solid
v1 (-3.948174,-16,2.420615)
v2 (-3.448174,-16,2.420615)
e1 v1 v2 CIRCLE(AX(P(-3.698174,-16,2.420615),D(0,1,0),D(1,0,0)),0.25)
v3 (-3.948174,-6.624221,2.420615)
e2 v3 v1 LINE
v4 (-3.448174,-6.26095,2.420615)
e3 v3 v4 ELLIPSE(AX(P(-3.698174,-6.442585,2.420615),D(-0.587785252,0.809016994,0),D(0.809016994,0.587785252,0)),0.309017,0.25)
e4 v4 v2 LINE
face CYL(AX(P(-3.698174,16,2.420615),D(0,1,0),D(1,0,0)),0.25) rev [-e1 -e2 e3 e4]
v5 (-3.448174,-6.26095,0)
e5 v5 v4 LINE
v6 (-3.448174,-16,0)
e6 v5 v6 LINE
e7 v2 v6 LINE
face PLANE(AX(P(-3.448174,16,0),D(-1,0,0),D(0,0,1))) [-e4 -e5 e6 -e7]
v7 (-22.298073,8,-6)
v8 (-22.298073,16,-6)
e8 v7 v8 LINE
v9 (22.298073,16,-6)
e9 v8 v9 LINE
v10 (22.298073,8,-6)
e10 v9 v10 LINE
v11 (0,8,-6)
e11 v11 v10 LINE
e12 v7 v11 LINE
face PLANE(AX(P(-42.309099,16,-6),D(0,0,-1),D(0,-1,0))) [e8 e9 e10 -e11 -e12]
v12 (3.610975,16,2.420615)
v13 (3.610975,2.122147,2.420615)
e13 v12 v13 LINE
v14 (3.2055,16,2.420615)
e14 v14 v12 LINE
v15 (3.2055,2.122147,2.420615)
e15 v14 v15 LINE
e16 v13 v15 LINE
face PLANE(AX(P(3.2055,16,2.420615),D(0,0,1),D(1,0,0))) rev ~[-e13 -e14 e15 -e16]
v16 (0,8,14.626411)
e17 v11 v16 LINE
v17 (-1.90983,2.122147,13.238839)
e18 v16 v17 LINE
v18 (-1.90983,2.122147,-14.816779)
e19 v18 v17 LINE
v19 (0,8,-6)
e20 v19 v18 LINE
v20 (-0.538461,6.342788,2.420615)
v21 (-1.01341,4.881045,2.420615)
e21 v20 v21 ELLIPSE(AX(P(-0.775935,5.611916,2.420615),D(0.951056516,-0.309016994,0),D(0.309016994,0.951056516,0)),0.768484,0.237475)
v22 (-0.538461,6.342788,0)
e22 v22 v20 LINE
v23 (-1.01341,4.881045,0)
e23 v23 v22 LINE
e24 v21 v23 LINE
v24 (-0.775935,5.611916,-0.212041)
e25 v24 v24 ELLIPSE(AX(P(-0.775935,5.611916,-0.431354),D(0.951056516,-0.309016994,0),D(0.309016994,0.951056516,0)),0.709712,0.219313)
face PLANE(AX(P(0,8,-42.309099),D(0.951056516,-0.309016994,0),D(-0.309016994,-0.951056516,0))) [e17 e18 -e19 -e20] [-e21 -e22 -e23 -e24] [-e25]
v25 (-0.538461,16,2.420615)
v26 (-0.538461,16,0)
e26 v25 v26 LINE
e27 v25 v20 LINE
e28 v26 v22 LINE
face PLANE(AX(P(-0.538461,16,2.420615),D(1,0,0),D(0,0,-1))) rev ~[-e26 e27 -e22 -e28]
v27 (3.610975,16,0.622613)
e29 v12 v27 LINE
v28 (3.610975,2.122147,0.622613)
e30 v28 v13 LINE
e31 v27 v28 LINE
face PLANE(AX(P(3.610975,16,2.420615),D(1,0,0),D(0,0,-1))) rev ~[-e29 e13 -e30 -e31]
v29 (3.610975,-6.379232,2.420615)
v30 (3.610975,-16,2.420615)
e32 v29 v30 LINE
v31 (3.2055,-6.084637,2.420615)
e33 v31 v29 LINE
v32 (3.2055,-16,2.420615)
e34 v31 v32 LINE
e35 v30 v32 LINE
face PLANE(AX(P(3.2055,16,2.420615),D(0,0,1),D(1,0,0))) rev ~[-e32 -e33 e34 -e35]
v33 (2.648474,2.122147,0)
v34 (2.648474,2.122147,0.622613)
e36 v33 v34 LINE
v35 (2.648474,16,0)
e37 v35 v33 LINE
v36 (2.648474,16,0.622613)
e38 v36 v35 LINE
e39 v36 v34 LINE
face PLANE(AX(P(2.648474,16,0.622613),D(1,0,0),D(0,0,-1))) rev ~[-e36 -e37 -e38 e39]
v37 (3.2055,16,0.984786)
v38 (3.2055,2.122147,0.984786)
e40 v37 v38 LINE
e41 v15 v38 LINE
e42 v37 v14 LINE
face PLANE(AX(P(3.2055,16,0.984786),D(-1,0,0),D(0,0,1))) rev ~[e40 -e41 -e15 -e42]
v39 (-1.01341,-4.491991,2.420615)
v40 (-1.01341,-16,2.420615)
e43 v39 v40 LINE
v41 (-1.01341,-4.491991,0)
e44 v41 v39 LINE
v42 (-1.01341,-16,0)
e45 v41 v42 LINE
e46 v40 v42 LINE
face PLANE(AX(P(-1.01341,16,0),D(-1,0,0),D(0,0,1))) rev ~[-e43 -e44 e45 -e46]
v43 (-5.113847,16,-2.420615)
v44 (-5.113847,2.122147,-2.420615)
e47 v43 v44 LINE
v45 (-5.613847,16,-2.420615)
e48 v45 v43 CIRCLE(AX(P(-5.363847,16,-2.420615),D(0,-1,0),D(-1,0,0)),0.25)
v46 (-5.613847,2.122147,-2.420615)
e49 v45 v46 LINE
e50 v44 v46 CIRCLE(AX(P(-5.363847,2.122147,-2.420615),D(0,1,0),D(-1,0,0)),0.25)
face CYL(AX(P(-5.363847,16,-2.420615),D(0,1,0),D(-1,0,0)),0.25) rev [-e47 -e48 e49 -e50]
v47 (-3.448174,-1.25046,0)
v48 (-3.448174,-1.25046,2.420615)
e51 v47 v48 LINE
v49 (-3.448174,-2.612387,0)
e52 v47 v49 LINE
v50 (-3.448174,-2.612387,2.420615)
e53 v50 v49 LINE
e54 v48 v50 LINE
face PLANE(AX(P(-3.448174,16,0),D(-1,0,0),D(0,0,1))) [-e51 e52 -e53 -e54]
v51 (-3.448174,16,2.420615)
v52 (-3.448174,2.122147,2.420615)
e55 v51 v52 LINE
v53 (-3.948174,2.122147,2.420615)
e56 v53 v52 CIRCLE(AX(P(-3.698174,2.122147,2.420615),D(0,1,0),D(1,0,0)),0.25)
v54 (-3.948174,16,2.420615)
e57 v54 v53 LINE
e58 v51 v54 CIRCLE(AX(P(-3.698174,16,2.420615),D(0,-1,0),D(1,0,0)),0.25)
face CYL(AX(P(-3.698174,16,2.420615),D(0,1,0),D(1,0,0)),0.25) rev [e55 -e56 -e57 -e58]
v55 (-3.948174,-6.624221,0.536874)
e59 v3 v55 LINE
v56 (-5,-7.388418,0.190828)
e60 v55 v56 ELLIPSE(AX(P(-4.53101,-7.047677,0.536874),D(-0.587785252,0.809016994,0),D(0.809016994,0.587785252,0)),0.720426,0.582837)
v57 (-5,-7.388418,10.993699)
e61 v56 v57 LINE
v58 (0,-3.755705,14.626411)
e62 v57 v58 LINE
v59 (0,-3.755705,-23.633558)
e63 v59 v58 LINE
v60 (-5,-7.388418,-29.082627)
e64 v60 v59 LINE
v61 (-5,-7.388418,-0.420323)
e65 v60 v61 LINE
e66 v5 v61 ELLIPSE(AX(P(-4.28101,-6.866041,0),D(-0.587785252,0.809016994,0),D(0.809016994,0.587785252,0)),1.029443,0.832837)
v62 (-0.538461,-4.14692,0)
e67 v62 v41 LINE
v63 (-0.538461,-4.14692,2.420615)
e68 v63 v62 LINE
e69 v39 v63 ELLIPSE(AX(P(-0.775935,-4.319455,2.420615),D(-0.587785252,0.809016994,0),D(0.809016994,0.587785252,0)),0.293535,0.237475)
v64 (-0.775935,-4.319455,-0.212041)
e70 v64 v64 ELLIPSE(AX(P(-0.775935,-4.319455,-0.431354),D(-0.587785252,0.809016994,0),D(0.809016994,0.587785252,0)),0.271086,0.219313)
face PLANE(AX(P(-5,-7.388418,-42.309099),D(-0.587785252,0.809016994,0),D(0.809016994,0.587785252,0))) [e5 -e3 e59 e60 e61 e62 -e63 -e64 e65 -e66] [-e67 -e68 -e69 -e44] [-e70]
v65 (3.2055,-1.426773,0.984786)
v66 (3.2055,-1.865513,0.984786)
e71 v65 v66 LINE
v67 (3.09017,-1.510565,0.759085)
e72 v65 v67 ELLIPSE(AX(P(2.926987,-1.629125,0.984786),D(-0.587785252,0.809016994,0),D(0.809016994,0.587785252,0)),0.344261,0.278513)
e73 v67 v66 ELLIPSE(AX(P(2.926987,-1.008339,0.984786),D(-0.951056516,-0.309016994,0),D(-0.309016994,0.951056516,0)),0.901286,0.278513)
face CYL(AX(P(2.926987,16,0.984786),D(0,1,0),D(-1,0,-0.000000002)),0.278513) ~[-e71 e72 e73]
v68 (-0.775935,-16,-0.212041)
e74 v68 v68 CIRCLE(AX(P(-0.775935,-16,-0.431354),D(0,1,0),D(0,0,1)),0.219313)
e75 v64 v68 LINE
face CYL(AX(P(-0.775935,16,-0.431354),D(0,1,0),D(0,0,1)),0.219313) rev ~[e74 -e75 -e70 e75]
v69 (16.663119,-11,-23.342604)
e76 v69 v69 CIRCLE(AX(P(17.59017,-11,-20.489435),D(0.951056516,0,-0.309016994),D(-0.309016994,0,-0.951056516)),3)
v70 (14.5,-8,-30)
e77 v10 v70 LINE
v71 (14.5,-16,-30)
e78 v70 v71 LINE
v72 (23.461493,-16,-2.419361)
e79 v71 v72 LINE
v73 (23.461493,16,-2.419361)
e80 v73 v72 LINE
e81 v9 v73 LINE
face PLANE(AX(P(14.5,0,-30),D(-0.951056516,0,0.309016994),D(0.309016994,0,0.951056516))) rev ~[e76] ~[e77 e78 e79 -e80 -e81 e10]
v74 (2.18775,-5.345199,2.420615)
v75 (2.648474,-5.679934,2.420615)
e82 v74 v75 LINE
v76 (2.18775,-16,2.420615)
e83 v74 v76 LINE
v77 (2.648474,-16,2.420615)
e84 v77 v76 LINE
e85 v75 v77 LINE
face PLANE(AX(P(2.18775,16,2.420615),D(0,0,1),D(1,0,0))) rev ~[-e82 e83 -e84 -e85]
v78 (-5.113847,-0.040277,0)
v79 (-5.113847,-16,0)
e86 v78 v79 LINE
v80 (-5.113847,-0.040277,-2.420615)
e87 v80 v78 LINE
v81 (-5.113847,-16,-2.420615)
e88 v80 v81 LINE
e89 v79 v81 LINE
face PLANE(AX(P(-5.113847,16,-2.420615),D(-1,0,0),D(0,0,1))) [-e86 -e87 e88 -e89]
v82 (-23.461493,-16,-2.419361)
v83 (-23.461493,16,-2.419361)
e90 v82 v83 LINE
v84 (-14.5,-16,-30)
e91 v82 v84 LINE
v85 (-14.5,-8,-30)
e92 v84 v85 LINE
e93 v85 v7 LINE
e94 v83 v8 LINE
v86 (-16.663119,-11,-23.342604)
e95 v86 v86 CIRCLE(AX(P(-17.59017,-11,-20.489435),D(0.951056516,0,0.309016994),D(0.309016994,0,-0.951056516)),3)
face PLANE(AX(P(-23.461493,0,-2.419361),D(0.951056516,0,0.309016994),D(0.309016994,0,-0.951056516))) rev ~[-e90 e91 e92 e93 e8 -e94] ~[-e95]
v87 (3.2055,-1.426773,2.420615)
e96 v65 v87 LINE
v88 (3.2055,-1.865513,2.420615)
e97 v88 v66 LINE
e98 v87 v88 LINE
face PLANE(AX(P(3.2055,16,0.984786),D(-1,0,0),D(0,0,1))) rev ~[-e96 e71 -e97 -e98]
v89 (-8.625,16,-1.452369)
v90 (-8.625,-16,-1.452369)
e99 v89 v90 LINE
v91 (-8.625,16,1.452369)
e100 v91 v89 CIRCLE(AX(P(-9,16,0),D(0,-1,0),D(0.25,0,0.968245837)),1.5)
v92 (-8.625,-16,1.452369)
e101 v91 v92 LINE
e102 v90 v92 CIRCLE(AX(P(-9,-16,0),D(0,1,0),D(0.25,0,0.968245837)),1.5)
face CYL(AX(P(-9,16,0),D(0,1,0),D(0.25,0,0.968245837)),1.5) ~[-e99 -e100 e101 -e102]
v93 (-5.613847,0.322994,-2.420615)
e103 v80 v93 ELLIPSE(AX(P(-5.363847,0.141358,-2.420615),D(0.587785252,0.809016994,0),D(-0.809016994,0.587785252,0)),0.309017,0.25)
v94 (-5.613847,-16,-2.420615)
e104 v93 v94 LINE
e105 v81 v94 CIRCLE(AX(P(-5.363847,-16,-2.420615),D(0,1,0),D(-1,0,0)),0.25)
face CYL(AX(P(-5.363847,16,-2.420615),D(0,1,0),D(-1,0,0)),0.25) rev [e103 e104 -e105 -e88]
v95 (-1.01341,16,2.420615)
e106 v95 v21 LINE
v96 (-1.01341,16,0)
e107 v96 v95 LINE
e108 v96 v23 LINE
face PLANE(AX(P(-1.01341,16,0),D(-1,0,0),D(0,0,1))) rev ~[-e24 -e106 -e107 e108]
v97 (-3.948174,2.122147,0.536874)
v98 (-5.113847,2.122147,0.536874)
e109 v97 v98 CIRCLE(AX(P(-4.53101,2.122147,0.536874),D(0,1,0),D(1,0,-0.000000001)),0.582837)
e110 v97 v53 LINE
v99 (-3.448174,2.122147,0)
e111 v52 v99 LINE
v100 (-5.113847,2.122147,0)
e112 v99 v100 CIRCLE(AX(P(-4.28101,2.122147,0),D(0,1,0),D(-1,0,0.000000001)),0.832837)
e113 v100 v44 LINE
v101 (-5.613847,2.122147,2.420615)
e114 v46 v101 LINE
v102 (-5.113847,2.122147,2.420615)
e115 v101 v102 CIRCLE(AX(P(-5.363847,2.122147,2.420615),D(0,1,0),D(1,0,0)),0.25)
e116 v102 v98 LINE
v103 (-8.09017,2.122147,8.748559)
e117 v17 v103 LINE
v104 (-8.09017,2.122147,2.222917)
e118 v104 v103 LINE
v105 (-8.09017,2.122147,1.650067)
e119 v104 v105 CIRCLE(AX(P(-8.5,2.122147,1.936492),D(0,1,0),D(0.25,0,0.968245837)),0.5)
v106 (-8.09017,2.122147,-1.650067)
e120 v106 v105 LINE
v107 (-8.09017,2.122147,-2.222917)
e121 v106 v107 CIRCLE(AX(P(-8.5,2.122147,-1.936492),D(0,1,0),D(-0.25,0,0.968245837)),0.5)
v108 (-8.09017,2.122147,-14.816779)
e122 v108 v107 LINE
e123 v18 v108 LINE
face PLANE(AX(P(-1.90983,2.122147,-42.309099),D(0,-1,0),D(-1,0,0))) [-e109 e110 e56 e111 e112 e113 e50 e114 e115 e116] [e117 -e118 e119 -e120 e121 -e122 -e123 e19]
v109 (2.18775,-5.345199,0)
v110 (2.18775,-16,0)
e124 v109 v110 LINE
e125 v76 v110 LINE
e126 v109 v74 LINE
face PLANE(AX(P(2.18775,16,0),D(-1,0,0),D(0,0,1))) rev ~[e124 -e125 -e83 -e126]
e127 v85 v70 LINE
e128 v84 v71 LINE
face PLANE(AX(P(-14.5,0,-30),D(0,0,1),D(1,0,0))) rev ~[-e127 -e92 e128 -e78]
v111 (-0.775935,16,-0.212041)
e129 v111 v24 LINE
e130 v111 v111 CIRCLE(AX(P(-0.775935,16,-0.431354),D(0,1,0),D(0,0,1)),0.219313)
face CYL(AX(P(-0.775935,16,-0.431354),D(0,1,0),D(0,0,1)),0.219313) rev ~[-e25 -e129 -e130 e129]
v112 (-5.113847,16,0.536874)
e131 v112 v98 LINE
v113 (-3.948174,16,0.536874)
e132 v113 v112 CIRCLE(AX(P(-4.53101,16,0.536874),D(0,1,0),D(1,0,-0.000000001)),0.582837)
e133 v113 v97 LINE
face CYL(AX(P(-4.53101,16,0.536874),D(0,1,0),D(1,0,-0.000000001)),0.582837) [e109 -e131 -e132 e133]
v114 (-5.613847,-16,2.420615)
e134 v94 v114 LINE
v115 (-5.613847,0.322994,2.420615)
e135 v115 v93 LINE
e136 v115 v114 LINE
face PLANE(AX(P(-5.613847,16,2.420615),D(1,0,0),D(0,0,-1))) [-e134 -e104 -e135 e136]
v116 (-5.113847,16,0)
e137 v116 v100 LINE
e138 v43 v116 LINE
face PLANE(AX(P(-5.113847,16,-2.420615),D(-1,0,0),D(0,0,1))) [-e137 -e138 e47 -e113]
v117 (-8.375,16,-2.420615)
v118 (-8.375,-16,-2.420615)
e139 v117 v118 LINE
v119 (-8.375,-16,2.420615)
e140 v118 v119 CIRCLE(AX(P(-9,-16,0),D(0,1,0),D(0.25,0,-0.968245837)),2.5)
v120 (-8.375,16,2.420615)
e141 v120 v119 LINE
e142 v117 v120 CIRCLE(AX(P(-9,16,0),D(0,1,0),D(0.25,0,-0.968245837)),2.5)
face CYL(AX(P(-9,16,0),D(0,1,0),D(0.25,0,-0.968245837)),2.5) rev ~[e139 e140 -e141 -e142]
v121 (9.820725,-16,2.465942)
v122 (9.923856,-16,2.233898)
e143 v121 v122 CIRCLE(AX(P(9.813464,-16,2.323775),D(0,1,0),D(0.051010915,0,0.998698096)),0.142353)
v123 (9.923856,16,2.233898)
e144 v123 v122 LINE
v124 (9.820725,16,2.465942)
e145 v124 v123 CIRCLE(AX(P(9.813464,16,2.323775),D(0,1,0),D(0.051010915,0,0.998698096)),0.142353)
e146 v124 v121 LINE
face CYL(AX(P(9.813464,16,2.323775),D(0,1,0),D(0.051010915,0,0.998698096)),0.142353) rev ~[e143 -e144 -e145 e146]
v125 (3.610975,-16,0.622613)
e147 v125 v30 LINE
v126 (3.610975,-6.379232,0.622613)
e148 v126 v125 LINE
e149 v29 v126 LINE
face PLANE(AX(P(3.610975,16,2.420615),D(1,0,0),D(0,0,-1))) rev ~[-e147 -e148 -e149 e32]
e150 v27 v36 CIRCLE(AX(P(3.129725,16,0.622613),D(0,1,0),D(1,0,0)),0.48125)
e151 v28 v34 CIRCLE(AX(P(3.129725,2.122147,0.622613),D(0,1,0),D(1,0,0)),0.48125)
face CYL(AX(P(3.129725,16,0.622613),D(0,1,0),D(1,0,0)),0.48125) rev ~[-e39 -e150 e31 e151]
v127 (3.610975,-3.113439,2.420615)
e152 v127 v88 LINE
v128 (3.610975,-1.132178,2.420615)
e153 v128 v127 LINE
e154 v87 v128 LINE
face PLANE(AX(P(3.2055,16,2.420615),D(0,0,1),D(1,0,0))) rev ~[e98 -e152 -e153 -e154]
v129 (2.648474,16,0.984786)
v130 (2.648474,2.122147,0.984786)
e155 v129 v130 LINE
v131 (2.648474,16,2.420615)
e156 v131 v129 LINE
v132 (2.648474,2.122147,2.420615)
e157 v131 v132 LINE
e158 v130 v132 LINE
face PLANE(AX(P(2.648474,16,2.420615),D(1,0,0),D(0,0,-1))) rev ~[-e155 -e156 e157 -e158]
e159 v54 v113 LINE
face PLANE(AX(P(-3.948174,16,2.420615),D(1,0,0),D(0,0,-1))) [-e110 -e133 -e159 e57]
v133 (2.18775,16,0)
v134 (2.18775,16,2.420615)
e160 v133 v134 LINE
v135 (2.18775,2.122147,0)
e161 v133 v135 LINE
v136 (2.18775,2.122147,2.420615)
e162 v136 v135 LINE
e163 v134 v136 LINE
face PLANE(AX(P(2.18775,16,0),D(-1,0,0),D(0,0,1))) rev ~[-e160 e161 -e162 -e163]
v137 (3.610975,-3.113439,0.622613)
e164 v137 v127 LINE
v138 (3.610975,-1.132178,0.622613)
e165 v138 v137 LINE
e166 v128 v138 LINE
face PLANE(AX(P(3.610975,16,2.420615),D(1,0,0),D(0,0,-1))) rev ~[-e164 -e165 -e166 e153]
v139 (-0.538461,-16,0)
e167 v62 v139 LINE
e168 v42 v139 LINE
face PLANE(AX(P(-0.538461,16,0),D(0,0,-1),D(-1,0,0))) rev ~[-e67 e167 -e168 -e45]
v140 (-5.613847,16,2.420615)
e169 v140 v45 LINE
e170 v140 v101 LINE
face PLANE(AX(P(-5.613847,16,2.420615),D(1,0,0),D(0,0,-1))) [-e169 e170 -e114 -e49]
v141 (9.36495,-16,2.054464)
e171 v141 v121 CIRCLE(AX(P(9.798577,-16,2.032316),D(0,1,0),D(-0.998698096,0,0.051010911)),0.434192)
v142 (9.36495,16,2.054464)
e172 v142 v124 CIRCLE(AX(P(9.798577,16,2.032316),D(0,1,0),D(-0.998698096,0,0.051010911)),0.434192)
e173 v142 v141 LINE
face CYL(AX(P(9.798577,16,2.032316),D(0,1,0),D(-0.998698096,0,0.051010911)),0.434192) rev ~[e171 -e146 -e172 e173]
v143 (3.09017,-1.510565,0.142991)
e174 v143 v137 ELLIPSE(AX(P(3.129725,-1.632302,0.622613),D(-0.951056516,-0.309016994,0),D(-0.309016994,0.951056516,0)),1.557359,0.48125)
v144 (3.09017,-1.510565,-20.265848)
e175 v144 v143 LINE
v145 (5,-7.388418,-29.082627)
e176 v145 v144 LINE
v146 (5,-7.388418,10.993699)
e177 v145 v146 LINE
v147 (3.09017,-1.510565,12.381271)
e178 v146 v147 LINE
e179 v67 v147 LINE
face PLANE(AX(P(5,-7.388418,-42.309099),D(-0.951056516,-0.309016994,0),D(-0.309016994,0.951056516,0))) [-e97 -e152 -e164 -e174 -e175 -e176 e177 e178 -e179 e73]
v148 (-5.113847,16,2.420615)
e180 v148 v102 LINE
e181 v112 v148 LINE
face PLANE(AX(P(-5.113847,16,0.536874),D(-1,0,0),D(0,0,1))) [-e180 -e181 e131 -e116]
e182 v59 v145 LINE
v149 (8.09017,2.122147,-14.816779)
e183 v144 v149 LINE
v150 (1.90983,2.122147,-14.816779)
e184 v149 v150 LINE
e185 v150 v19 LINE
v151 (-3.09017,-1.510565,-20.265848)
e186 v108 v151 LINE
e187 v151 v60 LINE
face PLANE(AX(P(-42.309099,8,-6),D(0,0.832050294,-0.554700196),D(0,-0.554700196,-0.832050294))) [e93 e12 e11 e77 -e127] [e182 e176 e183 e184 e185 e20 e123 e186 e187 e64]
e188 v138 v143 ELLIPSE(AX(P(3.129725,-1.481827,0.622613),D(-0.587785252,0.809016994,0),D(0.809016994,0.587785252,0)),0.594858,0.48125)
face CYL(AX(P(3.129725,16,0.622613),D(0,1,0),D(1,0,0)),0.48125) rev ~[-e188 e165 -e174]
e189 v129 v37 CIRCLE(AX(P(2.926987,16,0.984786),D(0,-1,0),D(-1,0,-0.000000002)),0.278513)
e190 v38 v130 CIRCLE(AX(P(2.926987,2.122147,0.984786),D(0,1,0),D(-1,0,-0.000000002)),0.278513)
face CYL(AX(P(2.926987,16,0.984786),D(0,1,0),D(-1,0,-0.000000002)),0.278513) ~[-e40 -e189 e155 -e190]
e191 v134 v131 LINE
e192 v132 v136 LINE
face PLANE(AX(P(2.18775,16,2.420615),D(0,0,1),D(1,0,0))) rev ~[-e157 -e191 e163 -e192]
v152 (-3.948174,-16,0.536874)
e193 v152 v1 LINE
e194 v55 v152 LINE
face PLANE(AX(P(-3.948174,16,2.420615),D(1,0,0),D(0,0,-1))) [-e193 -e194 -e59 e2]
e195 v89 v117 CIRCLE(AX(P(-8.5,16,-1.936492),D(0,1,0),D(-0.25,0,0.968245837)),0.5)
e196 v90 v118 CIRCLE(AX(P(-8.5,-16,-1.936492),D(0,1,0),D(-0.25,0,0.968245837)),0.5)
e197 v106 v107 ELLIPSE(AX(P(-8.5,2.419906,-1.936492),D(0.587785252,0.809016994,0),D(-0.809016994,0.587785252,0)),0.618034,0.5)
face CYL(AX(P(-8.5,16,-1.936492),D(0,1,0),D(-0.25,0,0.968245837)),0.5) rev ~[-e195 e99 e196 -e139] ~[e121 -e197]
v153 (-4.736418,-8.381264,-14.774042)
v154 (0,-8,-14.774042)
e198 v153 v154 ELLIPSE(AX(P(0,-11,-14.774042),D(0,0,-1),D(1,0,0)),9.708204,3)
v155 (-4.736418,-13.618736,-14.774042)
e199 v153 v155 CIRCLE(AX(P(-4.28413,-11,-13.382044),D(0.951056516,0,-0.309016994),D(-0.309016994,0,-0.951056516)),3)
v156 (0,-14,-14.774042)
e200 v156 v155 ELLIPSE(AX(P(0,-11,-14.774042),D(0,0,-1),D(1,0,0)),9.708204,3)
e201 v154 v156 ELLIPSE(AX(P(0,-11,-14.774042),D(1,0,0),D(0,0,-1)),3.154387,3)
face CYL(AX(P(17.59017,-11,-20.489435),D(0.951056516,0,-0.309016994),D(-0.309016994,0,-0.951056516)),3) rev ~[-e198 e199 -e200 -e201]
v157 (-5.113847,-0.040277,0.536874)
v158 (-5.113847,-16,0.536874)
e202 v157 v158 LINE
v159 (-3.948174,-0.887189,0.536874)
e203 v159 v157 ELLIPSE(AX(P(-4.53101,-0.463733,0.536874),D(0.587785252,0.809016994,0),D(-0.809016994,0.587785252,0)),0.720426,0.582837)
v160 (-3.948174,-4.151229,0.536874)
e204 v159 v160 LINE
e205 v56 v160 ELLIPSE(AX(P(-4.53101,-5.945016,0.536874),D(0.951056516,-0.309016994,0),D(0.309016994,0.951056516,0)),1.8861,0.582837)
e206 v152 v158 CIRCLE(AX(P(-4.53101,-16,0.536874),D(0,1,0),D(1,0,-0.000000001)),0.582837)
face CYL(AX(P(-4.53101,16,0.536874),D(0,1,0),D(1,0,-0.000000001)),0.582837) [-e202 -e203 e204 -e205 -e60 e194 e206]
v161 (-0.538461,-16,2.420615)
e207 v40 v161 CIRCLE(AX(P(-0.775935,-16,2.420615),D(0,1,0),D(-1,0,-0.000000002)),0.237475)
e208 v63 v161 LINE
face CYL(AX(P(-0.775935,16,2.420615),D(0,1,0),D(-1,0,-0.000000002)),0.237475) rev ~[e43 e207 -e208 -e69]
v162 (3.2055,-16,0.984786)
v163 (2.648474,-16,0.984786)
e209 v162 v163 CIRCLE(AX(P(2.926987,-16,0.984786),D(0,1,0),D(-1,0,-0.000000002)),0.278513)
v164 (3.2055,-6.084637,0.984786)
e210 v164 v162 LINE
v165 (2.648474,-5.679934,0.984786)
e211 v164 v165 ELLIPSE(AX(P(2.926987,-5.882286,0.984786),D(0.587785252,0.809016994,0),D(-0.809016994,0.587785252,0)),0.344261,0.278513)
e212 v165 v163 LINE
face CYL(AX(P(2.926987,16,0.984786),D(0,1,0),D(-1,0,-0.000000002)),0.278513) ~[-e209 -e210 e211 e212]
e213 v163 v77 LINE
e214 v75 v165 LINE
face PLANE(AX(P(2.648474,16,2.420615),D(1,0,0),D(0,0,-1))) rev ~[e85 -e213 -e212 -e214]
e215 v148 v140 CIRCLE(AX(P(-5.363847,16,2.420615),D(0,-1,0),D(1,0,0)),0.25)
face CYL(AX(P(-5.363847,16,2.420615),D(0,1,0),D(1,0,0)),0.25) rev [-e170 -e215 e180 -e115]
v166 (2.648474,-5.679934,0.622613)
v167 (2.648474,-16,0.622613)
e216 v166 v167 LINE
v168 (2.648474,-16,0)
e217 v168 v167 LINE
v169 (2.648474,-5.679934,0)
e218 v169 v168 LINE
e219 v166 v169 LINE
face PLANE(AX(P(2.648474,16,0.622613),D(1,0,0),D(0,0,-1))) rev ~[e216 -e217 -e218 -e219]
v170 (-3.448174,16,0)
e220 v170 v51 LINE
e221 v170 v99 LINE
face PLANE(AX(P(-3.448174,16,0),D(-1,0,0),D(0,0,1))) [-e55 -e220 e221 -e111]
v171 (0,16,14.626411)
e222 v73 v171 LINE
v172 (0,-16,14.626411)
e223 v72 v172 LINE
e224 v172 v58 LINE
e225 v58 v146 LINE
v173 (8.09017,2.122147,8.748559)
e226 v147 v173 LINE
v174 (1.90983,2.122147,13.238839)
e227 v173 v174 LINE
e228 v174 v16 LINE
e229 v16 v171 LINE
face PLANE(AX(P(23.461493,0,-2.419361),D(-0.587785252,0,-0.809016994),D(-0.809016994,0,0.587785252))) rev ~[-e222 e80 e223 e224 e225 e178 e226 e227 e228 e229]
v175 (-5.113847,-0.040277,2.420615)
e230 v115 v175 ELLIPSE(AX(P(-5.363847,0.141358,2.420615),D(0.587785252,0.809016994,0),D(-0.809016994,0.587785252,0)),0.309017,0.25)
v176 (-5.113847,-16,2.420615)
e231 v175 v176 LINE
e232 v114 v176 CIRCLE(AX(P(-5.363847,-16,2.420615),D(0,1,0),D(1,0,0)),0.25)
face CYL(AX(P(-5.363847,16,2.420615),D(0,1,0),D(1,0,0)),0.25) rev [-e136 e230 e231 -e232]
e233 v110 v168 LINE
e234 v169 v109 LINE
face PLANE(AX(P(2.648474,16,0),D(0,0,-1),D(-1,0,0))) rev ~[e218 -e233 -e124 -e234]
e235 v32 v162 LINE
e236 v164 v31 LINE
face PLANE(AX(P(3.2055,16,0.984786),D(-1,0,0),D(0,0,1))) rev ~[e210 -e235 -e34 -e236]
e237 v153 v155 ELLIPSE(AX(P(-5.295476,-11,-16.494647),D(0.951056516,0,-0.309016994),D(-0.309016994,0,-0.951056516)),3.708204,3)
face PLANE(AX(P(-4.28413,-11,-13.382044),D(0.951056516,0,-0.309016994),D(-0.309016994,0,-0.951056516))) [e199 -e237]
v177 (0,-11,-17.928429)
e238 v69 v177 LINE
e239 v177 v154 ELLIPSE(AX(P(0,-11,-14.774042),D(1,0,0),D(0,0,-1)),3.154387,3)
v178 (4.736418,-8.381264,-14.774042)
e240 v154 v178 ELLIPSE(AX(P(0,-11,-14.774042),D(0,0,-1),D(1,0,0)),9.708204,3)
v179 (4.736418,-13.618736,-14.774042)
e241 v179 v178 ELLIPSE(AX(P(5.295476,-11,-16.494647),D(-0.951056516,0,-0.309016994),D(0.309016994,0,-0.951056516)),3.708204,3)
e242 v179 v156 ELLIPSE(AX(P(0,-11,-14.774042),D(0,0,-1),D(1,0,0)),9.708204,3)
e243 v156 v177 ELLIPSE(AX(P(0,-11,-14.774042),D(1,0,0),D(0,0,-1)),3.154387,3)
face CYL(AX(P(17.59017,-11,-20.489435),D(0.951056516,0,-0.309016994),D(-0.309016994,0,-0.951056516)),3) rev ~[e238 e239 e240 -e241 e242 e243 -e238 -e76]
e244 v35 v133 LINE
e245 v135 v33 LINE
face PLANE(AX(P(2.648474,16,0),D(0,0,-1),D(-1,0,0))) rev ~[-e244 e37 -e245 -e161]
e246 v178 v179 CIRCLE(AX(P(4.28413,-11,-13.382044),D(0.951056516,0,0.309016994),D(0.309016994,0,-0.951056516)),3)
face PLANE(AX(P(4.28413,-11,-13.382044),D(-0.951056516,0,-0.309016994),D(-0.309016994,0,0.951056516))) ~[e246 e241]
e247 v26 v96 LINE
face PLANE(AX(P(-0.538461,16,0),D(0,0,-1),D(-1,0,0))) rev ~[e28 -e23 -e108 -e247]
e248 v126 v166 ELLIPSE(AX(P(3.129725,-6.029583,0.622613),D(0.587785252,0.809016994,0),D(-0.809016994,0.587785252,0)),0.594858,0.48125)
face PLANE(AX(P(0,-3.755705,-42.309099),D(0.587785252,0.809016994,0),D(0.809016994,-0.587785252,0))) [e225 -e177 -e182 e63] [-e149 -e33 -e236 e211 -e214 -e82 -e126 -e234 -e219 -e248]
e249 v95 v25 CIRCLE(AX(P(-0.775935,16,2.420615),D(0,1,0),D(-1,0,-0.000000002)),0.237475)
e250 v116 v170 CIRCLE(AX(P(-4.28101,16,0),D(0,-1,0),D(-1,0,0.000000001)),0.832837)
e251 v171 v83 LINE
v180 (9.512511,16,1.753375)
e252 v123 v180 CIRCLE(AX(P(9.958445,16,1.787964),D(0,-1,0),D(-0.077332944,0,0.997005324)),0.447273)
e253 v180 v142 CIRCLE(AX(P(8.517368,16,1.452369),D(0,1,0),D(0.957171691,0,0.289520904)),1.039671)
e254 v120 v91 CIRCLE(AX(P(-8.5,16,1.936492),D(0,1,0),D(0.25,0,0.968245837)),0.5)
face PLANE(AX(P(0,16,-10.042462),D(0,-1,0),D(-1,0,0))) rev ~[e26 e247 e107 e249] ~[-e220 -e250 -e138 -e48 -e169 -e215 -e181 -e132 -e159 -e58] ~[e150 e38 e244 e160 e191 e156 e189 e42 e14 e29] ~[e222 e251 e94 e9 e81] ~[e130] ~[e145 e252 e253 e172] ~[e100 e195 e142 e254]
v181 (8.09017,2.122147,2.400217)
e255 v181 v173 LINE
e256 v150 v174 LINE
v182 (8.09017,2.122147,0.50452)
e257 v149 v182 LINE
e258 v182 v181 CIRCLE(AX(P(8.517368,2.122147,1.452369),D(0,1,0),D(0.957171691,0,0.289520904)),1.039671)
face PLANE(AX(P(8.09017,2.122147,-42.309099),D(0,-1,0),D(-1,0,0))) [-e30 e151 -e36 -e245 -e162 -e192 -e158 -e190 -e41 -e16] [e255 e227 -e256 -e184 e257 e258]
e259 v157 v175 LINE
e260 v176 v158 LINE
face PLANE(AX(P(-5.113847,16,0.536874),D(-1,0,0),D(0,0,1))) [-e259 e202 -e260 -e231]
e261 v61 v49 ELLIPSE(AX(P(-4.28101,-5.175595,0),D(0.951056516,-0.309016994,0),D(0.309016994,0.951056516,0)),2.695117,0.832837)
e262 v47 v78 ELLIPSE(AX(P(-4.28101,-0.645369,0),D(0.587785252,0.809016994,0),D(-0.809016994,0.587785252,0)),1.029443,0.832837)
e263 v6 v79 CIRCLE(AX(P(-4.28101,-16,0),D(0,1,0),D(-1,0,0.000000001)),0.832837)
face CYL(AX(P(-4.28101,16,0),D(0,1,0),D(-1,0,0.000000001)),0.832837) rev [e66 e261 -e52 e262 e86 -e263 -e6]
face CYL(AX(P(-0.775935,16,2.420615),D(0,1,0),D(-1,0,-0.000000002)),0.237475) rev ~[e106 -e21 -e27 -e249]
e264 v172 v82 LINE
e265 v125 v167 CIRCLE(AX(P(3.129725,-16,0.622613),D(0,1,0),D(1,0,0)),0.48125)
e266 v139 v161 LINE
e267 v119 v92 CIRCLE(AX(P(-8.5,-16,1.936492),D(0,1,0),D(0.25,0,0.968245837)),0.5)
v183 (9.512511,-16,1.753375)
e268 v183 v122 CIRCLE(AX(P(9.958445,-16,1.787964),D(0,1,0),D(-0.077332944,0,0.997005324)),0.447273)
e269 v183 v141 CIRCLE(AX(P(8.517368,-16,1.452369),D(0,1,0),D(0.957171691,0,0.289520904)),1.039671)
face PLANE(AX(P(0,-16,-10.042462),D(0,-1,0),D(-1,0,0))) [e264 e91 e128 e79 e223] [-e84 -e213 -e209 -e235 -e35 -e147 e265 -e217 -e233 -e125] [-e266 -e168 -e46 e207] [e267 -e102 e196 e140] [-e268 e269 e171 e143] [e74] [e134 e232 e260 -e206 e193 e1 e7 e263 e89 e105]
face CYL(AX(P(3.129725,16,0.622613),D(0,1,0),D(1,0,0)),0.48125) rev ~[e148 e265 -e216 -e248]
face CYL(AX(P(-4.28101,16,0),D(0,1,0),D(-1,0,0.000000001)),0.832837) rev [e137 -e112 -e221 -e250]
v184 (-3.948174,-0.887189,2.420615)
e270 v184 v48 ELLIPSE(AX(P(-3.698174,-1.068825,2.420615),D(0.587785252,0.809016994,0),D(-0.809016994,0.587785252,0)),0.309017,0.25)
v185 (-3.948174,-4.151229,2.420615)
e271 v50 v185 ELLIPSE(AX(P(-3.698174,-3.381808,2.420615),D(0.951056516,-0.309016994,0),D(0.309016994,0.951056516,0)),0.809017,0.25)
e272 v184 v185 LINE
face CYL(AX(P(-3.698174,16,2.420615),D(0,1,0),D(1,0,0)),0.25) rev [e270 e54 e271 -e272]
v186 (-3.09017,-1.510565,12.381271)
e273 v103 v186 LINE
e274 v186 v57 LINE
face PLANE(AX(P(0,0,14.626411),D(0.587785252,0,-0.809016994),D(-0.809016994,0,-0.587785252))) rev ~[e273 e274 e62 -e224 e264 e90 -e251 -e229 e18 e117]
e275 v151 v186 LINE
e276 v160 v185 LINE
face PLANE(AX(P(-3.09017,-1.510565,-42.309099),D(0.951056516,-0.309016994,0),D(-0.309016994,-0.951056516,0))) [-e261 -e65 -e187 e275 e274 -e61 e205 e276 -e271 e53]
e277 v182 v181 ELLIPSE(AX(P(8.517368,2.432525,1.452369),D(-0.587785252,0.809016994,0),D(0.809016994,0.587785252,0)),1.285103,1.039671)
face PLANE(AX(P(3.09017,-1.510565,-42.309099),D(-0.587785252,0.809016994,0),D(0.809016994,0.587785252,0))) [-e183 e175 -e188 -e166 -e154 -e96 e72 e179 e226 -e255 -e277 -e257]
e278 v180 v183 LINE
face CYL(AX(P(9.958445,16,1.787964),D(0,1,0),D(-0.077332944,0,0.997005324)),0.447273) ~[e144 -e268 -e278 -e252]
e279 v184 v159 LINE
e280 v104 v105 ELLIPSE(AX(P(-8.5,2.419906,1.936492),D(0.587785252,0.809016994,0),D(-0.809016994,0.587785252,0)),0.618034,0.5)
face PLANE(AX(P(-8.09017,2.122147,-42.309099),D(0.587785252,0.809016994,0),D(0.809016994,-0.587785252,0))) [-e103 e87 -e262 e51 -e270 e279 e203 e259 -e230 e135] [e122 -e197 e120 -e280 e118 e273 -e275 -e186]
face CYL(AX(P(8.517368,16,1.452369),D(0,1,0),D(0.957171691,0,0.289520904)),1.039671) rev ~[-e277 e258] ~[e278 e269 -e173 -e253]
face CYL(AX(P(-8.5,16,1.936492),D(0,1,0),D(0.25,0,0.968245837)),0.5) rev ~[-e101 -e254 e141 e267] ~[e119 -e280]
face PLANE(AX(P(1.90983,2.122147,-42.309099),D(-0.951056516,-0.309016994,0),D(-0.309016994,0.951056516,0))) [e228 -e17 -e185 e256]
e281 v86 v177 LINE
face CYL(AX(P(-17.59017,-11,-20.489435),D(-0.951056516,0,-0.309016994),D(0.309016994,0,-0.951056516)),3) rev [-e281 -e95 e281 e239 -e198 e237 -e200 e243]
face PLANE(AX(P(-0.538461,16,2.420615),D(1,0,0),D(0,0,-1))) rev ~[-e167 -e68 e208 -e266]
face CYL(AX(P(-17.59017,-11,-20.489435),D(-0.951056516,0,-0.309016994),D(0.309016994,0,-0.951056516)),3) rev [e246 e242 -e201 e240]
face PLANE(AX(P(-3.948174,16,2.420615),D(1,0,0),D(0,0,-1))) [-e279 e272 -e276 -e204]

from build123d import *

# Parameters (mm, degrees)
EXTRUDE_1_DEPTH          = 16
CUT_EXTRUDE_1_DEPTH      = 42.30909883
CUT_EXTRUDE_1_DEPTH_BACK = 42.30909883
SKETCH_4_R               = 3
CUT_EXTRUDE_2_DEPTH      = 23
CUT_EXTRUDE_3_DEPTH      = 42.30909883
CUT_EXTRUDE_3_DEPTH_BACK = 42.30909883
SKETCH_8_R               = 0.219313102
CUT_EXTRUDE_4_DEPTH      = 50.743759871


with BuildPart() as part:
    # 草图1 → 凸台-拉伸1 (new, symmetric)
    with BuildSketch(Plane(origin=(0, 0, 0), x_dir=(1, 0, 0), z_dir=(0, 1, 0))):
        Polygon((-14.5, 30), (14.5, 30), (23.461492837, 2.419361027), (0, -14.626411289), (-23.461492837, 2.419361027), align=None)
    extrude(amount=EXTRUDE_1_DEPTH, both=True)

    # 草图3 → 切除-拉伸1 (cut, two sides: drawn at the far end of the back side and taken through both)
    with BuildSketch(Plane(origin=(0, 0, 0), x_dir=(0, 0, -1), z_dir=(1, 0, 0)).offset(-CUT_EXTRUDE_1_DEPTH_BACK)):
        Polygon((6, 16), (6, 8), (30, -8), (30, 16), align=None)
    extrude(amount=CUT_EXTRUDE_1_DEPTH + CUT_EXTRUDE_1_DEPTH_BACK, mode=Mode.SUBTRACT)

    # 草图4 → 切除-拉伸2 (cut)
    with BuildSketch(Plane(origin=(21.932151994, 0, -7.126188163), x_dir=(-0.3090169943749527, 0, -0.9510565162951519), z_dir=(0.951056516295152, 0, -0.3090169943749527))):
        with Locations((14.05094907, -11)):
            Circle(SKETCH_4_R)
    cut_extrude_2 = extrude(amount=-CUT_EXTRUDE_2_DEPTH, mode=Mode.SUBTRACT)

    # 镜向1: 切除-拉伸2 across plane
    add(cut_extrude_2.mirror(Plane(origin=(0, 0, 0), x_dir=(0, 0, 1), z_dir=(1, 0, 0))), mode=Mode.SUBTRACT)

    # 草图7 → 切除-拉伸3 (cut, two sides: drawn at the far end of the back side and taken through both)
    with BuildSketch(Plane.XY.offset(-CUT_EXTRUDE_3_DEPTH_BACK)):
        Polygon((0, 8), (-1.909830056, 2.122147477), (-8.090169944, 2.122147477), (-3.090169944, -1.510565163), (-5, -7.388417686), (0, -3.755705046), (5, -7.388417686), (3.090169944, -1.510565163), (8.090169944, 2.122147477), (1.909830056, 2.122147477), align=None)
    extrude(amount=CUT_EXTRUDE_3_DEPTH + CUT_EXTRUDE_3_DEPTH_BACK, mode=Mode.SUBTRACT)

    # 草图8 → 切除-拉伸4 (cut, through all)
    with BuildSketch(Plane(origin=(0, 16, 0), x_dir=(1, 0, 0), z_dir=(0, 1, 0))):
        with Locations(Location((-0.775935465, 0.431354415, 0), (0, 0, 270))):
            Circle(SKETCH_8_R)
        with BuildLine():
            Line((-5.113847326, 2.420614591), (-5.113847326, 0))
            ThreePointArc((-5.113847326, 0), (-4.281010431, 0.832836895), (-3.448173537, 0))
            Line((-3.448173537, 0), (-3.448173537, -2.420614591))
            ThreePointArc((-3.448173537, -2.420614591), (-3.698173537, -2.670614591), (-3.948173537, -2.420614591))
            Line((-3.948173537, -2.420614591), (-3.948173537, -0.536873711))
            ThreePointArc((-3.948173537, -0.536873711), (-4.531010431, 0.045963183), (-5.113847326, -0.536873711))
            Line((-5.113847326, -0.536873711), (-5.113847326, -2.420614591))
            ThreePointArc((-5.113847326, -2.420614591), (-5.363847326, -2.670614591), (-5.613847326, -2.420614591))
            Line((-5.613847326, -2.420614591), (-5.613847326, 2.420614591))
            ThreePointArc((-5.613847326, 2.420614591), (-5.363847326, 2.670614591), (-5.113847326, 2.420614591))
        make_face()
        with BuildLine():
            Line((-1.013410033, 0), (-1.013410033, -2.420614591))
            ThreePointArc((-1.013410033, -2.420614591), (-0.775935465, -2.658089159), (-0.538460898, -2.420614591))
            Line((-0.538460898, -2.420614591), (-0.538460898, 0))
            Line((-0.538460898, 0), (-1.013410033, 0))
        make_face()
        with BuildLine():
            Line((2.187750175, 0), (2.187750175, -2.420614591))
            Line((2.187750175, -2.420614591), (2.64847422, -2.420614591))
            Line((2.64847422, -2.420614591), (2.64847422, -0.984785713))
            ThreePointArc((2.64847422, -0.984785713), (2.926986903, -0.70627303), (3.205499587, -0.984785713))
            Line((3.205499587, -0.984785713), (3.205499587, -2.420614591))
            Line((3.205499587, -2.420614591), (3.610975114, -2.420614591))
            Line((3.610975114, -2.420614591), (3.610975114, -0.622613397))
            ThreePointArc((3.610975114, -0.622613397), (3.129724667, -0.14136295), (2.64847422, -0.622613397))
            Line((2.64847422, -0.622613397), (2.64847422, 0))
            Line((2.64847422, 0), (2.187750175, 0))
        make_face()
        with BuildLine():
            ThreePointArc((-8.375, 2.420614591), (-11.5, 0), (-8.375, -2.420614591))
            ThreePointArc((-8.375, -2.420614591), (-8.015877082, -1.811491673), (-8.625, -1.452368755))
            ThreePointArc((-8.625, -1.452368755), (-10.5, 0), (-8.625, 1.452368755))
            ThreePointArc((-8.625, 1.452368755), (-8.015877082, 1.811491673), (-8.375, 2.420614591))
        make_face()
        with BuildLine():
            ThreePointArc((9.512511285, -1.753375111), (7.583787314, -0.99482991), (9.364950424, -2.05446426))
            ThreePointArc((9.364950424, -2.05446426), (9.507618037, -2.354597316), (9.820725394, -2.465942199))
            ThreePointArc((9.820725394, -2.465942199), (9.943547456, -2.381589693), (9.923856182, -2.233897927))
            ThreePointArc((9.923856182, -2.233897927), (9.6186642, -2.078828836), (9.512511285, -1.753375111))
        make_face()
    extrude(amount=-CUT_EXTRUDE_4_DEPTH, mode=Mode.SUBTRACT)


solid = part.part
